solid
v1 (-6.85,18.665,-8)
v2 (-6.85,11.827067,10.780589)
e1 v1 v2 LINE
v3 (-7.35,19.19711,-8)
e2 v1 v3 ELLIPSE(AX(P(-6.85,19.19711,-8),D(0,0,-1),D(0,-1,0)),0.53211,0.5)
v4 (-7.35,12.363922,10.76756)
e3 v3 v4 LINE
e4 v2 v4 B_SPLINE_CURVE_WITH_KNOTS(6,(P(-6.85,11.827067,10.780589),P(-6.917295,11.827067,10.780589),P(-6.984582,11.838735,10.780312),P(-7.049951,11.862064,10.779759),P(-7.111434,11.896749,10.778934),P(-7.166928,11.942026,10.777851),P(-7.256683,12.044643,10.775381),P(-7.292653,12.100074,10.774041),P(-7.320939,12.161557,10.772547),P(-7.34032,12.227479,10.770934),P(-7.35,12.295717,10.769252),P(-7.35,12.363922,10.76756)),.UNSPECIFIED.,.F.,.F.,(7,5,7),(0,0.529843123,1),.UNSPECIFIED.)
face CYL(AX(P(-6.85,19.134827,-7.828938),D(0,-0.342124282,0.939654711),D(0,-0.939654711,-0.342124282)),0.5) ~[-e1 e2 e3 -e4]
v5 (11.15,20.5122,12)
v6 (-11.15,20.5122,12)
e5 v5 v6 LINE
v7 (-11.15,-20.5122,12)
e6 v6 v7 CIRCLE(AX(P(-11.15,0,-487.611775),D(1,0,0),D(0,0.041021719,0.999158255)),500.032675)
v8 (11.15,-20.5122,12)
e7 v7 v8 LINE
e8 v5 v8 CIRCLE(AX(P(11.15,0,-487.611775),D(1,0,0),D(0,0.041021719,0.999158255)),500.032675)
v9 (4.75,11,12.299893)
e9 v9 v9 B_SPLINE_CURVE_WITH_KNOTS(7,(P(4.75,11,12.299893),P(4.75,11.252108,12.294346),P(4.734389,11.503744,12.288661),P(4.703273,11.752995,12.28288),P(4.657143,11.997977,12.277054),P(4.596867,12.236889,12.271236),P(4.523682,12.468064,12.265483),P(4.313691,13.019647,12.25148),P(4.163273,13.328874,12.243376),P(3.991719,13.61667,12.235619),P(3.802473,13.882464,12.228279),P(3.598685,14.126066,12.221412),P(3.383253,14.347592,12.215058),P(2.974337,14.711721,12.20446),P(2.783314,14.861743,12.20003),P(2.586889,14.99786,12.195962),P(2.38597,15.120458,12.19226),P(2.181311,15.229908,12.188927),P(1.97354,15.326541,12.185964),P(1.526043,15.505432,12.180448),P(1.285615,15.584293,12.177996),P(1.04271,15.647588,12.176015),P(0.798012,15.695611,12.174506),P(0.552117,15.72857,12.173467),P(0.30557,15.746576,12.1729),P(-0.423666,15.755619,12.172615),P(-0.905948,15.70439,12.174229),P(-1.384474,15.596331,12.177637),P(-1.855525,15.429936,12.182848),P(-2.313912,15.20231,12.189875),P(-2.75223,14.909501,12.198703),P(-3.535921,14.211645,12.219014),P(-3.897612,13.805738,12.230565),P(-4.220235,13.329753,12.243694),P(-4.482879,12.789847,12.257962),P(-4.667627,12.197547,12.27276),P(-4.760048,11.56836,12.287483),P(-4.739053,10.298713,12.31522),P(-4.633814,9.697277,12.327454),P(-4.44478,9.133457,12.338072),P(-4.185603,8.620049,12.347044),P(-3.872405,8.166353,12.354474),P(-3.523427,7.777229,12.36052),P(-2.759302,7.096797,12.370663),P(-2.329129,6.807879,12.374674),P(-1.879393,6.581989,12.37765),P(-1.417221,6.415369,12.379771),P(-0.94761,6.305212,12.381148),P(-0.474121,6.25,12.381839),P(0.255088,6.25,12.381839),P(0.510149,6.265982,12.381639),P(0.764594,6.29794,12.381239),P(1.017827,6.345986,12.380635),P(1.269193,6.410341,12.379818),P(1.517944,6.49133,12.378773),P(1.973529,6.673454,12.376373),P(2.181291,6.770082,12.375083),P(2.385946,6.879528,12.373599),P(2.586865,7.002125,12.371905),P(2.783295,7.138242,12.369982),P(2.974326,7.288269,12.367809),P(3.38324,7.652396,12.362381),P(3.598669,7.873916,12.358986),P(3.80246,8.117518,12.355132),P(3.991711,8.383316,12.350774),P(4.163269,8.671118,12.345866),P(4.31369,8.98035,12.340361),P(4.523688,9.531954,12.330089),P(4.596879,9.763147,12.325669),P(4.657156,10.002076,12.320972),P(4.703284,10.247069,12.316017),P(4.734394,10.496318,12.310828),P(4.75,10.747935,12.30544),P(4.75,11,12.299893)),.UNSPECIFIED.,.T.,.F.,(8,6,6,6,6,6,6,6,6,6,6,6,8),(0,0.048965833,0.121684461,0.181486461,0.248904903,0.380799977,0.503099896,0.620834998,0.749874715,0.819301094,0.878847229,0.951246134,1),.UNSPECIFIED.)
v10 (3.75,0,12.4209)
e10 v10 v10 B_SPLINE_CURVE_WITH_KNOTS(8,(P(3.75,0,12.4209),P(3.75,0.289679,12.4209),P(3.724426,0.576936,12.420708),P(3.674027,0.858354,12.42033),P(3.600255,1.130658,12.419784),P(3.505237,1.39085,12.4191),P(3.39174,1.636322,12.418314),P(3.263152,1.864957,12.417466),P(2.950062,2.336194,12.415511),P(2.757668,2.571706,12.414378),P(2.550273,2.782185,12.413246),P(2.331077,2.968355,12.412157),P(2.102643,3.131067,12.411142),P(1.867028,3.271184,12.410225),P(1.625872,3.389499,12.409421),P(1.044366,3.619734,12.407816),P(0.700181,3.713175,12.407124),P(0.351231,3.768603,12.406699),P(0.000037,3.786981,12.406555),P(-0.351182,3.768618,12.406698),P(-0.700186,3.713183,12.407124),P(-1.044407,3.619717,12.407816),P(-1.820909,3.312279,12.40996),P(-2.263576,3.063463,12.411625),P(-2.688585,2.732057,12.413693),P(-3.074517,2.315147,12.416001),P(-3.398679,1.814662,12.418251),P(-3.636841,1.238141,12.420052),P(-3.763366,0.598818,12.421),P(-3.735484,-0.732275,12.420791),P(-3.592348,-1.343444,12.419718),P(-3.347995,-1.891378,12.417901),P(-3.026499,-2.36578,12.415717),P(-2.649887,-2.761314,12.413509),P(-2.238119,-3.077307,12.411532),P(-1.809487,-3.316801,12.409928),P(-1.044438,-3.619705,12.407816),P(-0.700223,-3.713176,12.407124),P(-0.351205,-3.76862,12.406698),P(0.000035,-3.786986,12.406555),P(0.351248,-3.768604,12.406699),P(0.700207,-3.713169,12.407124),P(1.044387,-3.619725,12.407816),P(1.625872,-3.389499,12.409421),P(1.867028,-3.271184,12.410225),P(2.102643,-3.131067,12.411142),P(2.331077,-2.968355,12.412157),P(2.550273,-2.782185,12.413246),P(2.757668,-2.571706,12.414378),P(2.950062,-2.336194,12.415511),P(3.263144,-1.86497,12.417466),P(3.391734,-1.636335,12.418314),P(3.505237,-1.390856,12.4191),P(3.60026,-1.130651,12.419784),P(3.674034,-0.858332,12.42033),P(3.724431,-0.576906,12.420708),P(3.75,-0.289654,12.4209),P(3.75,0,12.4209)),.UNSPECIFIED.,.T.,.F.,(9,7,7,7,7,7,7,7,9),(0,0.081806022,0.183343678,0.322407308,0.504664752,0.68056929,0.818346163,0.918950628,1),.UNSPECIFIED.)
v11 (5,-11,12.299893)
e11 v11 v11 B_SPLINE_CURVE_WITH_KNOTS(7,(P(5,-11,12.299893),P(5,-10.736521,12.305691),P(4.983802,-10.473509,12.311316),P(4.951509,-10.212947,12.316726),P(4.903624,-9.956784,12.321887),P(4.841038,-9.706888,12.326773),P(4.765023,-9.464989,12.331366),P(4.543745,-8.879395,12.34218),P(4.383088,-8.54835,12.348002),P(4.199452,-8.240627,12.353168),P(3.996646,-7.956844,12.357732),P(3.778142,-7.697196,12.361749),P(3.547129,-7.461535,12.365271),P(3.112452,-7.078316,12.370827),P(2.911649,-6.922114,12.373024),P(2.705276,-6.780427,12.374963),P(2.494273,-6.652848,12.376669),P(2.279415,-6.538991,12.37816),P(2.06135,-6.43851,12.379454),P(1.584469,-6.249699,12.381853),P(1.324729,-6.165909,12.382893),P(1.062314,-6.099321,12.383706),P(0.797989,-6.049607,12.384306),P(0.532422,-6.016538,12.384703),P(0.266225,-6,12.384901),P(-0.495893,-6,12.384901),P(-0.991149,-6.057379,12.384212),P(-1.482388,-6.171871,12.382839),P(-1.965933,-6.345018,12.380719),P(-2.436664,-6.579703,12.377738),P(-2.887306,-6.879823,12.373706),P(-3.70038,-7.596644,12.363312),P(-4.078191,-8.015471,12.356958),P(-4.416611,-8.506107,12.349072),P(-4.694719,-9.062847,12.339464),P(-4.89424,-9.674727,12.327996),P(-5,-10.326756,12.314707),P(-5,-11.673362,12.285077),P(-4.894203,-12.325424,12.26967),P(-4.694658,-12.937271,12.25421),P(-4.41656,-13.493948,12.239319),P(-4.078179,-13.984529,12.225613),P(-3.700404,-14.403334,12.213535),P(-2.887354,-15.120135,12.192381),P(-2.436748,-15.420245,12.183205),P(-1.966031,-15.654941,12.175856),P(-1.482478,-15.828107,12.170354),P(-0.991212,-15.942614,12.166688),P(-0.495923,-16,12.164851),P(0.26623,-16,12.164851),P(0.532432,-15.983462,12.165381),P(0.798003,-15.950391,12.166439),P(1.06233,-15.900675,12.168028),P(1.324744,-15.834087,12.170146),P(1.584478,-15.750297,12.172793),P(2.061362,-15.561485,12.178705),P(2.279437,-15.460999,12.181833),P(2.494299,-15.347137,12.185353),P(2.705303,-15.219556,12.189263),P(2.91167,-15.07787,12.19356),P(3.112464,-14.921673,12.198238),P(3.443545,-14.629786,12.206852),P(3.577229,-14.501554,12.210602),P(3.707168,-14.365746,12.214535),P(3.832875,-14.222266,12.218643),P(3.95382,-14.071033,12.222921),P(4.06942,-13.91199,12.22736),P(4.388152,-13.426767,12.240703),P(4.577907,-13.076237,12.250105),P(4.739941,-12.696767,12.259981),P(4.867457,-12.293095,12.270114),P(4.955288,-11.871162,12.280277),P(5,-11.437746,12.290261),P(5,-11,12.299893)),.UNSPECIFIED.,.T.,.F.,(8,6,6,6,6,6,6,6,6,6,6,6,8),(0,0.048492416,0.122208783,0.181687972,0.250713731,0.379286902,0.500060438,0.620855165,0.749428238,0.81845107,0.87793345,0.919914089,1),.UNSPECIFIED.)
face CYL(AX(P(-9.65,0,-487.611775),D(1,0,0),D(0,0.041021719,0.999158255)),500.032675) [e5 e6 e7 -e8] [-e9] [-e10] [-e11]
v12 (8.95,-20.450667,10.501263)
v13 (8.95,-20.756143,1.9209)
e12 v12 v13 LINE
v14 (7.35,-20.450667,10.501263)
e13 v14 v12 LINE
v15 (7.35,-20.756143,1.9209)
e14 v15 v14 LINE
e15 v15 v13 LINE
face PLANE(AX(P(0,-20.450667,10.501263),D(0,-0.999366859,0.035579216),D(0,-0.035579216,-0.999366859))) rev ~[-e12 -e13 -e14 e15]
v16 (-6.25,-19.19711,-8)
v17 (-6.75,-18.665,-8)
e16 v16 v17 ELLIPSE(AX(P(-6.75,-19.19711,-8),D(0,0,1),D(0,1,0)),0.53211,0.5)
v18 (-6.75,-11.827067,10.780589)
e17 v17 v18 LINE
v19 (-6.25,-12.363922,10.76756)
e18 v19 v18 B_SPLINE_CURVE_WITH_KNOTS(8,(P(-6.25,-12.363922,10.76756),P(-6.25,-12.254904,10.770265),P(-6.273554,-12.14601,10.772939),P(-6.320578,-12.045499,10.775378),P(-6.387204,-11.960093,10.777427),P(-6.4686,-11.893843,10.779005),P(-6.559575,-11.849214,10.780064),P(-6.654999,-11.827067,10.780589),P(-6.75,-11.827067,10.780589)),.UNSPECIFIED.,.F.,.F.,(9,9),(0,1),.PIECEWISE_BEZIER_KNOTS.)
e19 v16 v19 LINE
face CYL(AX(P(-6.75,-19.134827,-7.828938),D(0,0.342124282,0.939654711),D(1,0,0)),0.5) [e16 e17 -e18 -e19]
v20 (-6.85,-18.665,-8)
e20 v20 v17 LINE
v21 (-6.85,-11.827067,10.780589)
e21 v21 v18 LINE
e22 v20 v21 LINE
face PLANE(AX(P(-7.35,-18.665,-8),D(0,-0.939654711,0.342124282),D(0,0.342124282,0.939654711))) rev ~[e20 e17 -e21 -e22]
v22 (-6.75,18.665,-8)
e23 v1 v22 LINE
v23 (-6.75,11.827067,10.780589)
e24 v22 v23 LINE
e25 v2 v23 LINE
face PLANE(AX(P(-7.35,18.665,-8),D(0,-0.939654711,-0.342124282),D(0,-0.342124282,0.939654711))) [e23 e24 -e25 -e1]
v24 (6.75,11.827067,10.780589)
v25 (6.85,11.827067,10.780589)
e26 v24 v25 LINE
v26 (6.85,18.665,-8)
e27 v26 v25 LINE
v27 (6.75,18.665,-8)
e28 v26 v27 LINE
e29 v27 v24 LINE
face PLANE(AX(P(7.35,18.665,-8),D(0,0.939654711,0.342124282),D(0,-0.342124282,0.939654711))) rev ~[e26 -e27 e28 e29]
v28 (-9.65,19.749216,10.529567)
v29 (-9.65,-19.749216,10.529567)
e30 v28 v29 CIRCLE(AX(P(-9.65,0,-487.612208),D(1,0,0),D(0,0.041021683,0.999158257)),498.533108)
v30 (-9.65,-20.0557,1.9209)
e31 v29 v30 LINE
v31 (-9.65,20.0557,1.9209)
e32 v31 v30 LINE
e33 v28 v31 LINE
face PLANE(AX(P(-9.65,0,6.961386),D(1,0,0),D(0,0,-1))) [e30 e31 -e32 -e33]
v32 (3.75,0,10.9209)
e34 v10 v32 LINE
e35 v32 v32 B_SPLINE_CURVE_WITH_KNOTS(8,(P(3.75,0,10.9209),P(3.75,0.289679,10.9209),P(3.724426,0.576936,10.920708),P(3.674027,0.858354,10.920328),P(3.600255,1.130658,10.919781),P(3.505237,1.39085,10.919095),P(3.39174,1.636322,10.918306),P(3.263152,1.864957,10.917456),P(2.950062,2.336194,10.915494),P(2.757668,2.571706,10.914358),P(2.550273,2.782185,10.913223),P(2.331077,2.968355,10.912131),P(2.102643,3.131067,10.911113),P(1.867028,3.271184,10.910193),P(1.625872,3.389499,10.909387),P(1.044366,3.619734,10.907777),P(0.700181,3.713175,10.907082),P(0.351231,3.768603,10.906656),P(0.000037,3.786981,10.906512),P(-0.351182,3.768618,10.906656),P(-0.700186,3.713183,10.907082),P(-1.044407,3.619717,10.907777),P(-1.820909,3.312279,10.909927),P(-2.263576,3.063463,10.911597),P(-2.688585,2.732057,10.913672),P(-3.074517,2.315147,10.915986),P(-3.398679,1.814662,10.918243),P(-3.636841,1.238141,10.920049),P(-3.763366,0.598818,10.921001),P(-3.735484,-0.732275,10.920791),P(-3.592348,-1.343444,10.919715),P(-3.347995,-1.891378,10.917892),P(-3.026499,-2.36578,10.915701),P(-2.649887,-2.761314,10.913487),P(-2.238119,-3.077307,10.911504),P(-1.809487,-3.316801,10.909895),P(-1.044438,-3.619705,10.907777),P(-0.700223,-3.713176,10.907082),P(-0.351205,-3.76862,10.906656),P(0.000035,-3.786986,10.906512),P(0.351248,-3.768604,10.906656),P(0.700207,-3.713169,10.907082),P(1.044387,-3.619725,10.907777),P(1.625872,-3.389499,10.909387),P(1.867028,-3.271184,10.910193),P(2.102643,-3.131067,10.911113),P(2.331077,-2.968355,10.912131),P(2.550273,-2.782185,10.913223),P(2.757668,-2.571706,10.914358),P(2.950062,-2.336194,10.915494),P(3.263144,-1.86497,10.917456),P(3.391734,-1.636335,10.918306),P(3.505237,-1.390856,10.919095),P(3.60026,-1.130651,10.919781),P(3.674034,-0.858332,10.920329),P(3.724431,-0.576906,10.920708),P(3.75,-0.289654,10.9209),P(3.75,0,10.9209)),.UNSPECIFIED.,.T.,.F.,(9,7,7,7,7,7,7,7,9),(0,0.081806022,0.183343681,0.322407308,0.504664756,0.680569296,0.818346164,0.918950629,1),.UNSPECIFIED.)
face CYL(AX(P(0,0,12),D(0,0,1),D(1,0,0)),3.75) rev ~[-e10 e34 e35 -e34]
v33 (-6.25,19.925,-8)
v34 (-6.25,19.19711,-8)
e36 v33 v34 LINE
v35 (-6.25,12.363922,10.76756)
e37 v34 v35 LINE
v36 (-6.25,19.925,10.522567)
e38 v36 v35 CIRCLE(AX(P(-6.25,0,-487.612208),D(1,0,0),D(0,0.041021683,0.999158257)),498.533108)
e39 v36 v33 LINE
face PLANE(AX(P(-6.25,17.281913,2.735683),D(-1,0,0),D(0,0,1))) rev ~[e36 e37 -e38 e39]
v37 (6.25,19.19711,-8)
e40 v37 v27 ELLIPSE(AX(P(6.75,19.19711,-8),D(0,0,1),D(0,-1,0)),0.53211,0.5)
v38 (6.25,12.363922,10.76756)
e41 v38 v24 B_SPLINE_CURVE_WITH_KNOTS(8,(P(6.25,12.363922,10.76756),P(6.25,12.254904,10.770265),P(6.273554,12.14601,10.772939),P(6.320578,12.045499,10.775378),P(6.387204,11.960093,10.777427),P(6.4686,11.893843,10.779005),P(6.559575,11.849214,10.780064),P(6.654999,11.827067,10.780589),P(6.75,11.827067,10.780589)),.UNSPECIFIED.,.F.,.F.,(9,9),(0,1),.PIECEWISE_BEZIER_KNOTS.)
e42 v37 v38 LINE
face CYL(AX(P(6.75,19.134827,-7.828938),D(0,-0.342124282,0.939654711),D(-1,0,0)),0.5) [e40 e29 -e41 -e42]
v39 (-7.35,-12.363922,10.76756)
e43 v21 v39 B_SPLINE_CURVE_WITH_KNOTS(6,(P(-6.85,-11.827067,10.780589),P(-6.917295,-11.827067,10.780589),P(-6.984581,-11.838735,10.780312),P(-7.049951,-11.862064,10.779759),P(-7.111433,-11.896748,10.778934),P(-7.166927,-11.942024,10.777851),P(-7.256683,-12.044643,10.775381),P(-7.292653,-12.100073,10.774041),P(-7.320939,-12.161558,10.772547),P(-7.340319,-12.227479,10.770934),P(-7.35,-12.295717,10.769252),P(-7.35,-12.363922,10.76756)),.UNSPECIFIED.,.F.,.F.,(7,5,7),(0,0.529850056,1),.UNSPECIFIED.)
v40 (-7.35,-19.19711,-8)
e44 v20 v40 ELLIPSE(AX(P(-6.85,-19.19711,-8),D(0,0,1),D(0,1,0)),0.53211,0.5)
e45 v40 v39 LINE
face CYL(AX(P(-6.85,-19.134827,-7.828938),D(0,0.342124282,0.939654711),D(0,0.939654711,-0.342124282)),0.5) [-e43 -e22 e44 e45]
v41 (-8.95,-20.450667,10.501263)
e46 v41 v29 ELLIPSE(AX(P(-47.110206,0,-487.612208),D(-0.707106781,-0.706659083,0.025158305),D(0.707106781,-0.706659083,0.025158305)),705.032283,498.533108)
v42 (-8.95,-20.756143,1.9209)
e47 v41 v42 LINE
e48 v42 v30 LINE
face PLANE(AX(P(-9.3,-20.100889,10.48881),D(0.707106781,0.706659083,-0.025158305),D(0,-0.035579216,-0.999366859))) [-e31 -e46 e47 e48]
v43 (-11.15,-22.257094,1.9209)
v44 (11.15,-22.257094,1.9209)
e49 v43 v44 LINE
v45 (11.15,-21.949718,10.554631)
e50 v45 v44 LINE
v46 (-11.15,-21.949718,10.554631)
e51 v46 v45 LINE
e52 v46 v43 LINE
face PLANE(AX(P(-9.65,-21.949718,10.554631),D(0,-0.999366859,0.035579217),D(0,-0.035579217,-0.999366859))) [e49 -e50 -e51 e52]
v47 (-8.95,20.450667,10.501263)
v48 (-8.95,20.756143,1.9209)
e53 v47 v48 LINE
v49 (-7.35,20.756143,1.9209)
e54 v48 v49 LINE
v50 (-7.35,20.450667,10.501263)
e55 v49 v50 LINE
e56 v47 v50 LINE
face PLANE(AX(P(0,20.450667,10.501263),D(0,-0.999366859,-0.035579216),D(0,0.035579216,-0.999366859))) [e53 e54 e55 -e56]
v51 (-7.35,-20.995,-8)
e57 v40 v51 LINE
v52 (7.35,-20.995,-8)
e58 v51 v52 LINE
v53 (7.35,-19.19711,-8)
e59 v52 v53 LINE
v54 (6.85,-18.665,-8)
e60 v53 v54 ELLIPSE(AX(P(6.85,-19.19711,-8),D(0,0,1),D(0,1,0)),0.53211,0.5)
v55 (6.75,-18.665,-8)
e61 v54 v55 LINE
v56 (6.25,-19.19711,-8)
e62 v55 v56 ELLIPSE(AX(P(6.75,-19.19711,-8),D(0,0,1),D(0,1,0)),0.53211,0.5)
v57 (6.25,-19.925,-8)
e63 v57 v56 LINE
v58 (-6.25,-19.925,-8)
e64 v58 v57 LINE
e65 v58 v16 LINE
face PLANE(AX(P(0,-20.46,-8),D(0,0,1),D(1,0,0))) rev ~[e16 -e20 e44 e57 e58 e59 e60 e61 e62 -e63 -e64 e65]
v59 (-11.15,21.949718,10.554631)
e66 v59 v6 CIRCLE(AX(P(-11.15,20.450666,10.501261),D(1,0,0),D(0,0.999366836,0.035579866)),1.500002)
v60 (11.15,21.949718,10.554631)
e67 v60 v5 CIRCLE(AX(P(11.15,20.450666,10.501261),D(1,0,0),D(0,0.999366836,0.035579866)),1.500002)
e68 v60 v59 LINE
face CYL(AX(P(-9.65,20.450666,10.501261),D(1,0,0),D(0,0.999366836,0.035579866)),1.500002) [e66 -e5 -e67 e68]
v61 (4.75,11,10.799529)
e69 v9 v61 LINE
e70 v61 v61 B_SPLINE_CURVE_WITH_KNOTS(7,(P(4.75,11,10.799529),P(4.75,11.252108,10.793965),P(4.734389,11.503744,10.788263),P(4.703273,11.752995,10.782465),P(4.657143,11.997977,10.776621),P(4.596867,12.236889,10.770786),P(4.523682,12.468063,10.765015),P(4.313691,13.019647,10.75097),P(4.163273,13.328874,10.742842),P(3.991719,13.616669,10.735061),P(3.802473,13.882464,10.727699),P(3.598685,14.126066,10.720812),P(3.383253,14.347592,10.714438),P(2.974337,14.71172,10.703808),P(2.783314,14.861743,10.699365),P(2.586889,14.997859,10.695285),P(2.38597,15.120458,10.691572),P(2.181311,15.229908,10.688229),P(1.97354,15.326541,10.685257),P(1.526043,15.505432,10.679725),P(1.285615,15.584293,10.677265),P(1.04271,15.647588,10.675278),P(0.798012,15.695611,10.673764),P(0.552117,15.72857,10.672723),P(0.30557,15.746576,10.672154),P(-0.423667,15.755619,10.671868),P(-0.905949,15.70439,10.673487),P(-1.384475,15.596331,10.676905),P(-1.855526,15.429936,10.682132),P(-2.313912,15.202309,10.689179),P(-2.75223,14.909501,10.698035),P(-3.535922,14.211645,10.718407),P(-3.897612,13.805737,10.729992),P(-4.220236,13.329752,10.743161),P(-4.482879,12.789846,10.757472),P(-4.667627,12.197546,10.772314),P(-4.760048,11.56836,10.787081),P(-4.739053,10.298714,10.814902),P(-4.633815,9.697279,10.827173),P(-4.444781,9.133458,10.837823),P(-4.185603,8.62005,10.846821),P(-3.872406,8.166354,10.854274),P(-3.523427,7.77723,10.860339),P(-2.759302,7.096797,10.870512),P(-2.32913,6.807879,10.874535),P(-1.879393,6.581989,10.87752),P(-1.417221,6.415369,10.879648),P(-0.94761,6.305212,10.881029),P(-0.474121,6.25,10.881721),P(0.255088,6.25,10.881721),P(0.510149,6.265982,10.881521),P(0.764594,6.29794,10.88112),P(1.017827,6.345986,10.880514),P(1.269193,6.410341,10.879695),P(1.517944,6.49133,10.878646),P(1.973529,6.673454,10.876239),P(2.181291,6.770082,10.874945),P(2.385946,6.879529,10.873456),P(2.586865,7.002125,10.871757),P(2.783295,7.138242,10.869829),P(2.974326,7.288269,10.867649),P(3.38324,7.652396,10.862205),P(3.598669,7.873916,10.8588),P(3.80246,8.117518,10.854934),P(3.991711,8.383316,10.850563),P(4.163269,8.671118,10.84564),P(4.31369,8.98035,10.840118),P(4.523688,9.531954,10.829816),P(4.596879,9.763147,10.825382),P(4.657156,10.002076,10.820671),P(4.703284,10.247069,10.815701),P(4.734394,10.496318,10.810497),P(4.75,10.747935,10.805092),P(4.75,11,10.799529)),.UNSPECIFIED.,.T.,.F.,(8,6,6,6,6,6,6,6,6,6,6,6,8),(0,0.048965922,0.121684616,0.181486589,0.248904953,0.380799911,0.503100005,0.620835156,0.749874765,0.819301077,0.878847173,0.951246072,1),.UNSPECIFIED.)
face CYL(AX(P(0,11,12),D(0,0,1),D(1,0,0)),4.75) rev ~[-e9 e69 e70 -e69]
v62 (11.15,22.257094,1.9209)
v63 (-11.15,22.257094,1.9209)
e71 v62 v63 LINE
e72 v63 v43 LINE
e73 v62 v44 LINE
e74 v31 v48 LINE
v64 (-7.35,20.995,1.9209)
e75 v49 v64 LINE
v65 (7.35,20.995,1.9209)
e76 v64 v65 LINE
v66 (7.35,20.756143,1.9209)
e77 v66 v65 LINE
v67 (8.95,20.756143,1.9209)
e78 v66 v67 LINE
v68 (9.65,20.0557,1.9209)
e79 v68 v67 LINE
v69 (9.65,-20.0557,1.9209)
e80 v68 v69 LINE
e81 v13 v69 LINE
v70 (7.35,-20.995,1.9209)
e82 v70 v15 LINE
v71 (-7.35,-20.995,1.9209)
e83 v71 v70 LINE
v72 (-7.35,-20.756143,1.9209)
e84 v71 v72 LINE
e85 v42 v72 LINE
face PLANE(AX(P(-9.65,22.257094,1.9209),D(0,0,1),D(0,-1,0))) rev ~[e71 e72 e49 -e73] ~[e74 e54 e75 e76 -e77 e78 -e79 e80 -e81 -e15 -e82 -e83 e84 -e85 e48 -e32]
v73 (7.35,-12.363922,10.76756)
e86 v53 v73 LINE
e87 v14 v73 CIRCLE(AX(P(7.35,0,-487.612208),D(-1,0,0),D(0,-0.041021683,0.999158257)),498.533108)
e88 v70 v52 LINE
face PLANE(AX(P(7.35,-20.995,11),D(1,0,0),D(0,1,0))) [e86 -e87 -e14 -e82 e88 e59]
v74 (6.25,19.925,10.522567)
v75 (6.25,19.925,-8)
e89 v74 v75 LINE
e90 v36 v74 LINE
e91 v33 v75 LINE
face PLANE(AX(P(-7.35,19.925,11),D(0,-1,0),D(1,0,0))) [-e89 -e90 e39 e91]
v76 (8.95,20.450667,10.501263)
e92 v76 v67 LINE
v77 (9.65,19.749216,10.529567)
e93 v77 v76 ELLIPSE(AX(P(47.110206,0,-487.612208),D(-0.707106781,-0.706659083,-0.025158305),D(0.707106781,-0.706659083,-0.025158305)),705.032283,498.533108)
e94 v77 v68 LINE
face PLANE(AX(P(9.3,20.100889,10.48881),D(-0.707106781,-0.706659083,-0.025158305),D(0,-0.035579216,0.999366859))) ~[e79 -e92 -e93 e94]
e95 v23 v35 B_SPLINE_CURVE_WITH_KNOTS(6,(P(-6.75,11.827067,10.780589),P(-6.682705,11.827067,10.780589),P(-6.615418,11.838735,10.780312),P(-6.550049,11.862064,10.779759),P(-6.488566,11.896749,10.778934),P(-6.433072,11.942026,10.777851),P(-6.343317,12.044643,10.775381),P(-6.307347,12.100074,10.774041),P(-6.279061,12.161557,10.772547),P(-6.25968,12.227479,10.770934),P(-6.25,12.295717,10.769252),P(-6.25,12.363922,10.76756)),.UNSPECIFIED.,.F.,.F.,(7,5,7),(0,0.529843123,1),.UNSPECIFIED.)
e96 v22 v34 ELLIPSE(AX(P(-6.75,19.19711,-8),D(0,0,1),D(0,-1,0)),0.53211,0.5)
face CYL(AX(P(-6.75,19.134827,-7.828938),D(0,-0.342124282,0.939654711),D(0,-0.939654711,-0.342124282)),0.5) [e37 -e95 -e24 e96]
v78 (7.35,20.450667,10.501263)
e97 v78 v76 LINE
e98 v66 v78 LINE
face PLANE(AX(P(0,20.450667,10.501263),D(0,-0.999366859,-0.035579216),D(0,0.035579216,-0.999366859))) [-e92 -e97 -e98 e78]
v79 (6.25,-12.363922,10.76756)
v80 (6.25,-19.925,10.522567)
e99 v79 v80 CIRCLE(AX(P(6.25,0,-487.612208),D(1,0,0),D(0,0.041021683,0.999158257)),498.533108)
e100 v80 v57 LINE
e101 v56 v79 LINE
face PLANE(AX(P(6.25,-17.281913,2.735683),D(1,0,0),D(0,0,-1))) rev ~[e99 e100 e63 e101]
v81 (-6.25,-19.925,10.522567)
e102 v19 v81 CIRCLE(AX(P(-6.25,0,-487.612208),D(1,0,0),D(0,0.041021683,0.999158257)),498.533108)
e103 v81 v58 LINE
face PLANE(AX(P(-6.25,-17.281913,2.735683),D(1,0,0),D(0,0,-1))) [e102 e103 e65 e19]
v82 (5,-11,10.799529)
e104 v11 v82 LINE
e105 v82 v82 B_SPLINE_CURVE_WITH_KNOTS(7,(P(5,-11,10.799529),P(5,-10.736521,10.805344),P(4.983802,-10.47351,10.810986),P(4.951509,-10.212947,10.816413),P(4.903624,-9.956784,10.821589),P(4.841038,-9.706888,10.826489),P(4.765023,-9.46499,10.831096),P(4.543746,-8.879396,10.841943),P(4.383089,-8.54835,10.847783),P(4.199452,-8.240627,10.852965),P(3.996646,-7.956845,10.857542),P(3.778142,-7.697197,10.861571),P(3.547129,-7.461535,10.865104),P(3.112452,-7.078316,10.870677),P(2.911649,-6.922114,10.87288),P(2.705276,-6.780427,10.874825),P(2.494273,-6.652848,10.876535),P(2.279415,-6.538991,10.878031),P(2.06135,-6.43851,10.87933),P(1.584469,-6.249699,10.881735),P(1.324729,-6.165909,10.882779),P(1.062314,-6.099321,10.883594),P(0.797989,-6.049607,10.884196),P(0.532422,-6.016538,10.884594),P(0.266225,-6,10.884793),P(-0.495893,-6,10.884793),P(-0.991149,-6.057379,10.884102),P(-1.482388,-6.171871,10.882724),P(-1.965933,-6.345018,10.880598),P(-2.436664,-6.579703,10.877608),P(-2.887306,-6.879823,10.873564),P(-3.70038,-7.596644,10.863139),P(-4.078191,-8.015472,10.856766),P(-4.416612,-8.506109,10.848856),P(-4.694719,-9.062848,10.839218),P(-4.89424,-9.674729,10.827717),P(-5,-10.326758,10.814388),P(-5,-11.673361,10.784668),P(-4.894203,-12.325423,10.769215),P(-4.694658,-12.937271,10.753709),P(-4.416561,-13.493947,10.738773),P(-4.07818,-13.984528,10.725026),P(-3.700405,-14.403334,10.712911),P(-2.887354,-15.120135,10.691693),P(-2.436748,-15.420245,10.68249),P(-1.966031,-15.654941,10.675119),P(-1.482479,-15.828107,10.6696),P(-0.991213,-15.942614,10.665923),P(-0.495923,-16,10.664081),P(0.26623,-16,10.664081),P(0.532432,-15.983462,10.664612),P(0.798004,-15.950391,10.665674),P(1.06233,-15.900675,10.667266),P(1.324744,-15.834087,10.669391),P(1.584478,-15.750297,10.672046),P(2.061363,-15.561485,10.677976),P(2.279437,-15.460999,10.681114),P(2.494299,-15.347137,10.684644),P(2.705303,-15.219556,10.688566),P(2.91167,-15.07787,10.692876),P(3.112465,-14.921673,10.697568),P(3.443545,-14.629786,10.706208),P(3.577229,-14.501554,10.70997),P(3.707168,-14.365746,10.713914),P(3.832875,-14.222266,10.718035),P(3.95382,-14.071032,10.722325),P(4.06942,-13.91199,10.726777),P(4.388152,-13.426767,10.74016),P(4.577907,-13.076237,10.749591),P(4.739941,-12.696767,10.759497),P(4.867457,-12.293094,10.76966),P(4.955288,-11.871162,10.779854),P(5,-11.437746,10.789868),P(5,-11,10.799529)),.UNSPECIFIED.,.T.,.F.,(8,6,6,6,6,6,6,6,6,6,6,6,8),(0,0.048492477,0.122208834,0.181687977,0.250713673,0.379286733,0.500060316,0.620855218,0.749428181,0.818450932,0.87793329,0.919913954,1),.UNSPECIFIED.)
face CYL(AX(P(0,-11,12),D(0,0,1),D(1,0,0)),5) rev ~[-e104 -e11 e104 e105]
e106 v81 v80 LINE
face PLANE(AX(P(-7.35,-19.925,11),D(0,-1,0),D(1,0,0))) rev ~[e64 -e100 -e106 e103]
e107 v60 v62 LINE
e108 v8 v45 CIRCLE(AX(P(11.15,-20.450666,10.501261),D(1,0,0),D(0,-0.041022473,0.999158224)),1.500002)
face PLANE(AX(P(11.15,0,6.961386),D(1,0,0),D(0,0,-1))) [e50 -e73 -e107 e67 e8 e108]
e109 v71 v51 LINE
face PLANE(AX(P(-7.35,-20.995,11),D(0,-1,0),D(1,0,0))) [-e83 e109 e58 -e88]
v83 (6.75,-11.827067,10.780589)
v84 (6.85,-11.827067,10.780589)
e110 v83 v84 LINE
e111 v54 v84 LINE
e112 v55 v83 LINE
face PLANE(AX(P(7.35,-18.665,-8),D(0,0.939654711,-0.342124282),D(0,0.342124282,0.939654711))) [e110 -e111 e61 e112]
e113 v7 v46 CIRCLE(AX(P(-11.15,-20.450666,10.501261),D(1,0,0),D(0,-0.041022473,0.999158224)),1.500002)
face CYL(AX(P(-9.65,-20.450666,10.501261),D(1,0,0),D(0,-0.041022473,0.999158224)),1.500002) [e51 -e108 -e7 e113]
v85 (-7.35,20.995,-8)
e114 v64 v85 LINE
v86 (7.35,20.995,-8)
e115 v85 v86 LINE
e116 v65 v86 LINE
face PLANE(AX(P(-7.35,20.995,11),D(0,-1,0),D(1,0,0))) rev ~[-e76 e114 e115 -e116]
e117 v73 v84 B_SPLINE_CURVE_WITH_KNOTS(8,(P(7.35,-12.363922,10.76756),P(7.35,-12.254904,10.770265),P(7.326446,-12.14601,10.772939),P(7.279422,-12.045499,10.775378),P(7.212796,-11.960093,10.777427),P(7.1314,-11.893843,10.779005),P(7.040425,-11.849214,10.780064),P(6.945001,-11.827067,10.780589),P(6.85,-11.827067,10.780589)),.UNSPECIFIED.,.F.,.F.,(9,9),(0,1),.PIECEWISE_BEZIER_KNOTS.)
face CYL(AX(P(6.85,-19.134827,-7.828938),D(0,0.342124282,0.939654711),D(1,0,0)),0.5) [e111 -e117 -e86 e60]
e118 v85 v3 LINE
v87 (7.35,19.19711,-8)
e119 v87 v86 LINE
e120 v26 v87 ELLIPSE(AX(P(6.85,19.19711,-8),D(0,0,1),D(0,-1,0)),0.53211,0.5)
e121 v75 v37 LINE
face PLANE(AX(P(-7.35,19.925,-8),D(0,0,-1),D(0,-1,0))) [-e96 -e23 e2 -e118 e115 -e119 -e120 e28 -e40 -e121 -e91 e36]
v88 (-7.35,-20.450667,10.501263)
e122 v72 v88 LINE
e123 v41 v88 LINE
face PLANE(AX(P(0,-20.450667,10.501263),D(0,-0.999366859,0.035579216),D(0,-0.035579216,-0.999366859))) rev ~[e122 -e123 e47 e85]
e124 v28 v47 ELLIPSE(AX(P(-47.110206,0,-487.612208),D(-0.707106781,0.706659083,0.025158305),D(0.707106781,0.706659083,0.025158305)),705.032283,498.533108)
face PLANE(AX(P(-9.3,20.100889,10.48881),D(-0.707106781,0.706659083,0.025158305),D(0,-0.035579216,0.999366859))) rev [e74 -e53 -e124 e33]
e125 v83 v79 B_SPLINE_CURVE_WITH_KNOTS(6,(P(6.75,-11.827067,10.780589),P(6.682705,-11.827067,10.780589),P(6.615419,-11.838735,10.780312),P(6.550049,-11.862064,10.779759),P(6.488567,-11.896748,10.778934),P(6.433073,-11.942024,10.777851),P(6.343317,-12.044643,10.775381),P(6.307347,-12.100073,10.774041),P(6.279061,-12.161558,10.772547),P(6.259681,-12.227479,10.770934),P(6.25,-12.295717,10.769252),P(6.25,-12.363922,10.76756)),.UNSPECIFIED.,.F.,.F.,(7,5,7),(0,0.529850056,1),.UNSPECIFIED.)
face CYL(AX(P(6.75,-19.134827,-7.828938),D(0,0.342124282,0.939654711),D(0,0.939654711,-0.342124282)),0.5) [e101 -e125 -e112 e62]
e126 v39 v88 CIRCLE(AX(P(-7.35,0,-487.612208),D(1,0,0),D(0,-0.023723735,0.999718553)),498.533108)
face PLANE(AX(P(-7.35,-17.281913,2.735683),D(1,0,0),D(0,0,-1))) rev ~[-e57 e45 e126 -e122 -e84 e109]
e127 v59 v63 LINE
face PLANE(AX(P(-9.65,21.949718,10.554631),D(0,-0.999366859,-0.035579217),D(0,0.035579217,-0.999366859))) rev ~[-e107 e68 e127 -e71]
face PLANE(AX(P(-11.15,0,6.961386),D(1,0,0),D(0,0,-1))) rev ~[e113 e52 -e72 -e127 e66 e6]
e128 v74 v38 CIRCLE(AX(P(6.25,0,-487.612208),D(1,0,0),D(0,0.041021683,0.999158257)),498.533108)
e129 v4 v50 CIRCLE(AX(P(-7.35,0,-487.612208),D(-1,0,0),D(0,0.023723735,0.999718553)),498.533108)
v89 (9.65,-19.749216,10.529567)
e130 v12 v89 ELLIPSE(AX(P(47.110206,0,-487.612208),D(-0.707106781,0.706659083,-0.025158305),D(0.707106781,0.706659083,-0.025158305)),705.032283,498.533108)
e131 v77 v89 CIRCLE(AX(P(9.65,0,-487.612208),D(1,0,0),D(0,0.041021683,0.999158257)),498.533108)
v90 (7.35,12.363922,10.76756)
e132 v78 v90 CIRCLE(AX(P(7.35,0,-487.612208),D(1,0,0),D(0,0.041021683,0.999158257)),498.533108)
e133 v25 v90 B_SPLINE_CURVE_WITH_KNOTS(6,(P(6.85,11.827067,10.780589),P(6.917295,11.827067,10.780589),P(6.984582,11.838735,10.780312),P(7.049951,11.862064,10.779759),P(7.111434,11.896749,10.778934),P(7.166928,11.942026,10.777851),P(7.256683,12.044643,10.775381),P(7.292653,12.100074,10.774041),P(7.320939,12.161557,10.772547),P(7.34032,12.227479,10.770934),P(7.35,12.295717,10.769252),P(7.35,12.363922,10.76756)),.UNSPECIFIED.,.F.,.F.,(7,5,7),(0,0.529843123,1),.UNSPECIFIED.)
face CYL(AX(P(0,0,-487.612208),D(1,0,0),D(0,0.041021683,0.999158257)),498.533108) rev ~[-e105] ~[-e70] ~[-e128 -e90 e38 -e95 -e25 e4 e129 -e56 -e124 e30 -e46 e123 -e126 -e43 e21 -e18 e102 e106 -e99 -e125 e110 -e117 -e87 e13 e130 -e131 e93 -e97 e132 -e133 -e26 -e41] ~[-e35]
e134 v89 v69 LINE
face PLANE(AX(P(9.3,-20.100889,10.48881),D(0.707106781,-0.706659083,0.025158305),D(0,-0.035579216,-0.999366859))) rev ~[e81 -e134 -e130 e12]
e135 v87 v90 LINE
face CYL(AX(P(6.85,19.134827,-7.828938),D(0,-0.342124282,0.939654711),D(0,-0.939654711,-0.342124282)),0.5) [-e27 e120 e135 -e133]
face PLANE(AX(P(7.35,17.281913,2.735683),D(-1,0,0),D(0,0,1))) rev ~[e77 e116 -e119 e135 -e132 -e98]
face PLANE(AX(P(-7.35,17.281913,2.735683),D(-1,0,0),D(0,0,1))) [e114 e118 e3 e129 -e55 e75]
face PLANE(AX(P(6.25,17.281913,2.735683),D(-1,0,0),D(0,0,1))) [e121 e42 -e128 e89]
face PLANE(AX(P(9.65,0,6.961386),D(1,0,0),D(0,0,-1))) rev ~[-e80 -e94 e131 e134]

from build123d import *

# Parameters (mm, degrees)
PAD_DEPTH               = 9.65
PAD001_DEPTH            = 1.5
PAD002_DEPTH            = 1.5
SKETCH003_W             = 14.7
SKETCH003_H             = 1.07
PAD003_DEPTH            = 19
PAD004_DEPTH            = 1.1
PAD005_DEPTH            = 1.1
FILLET001_R             = 0.5
CHAMFER_SIZE            = 0.7
SKETCH011_R             = 3.75
SKETCH011_R_2           = 4.75
SKETCH011_R_3           = 5
POCKET001_DEPTH         = 5
POCKET001_DEPTH_BACK    = 5
BODY001_PLACEMENT_ANGLE = 90


with BuildPart() as part:
    # Sketch → Pad (new body, symmetric)
    with BuildSketch(Plane.YZ):
        with BuildLine():
            ThreePointArc((0, 20.5122), (-0.4209, 0), (0, -20.5122))
            ThreePointArc((0, -20.5122), (0.44097, -21.514212), (1.445369, -21.949718))
            Line((1.445369, -21.949718), (10.0791, -22.257094))
            Line((10.0791, -22.257094), (10.0791, -20.756143))
            Line((1.498737, -20.450667), (10.0791, -20.756143))
            ThreePointArc((1.498737, 20.450667), (1.0791, 0), (1.498737, -20.450667))
            Line((1.498737, 20.450667), (10.0791, 20.756143))
            Line((10.0791, 20.756143), (10.0791, 22.257094))
            Line((1.445369, 21.949718), (10.0791, 22.257094))
            ThreePointArc((1.445369, 21.949718), (0.44097, 21.514212), (0, 20.5122))
        make_face()
    extrude(amount=PAD_DEPTH, both=True)

    # Sketch001 → Pad001 (join)
    with BuildSketch(Plane.YZ.offset(9.65)):
        with BuildLine():
            ThreePointArc((0, 20.5122), (-0.4209, 0), (0, -20.5122))
            ThreePointArc((0, -20.5122), (0.44097, -21.514212), (1.445369, -21.949718))
            Line((1.445369, -21.949718), (10.0791, -22.257094))
            Line((10.0791, 22.257094), (10.0791, -22.257094))
            Line((1.445369, 21.949718), (10.0791, 22.257094))
            ThreePointArc((1.445369, 21.949718), (0.44097, 21.514212), (0, 20.5122))
        make_face()
    extrude(amount=PAD001_DEPTH)

    # Sketch002 → Pad002 (join)
    with BuildSketch(Plane.YZ.offset(-9.65)):
        with BuildLine():
            ThreePointArc((0, 20.5122), (-0.4209, 0), (0, -20.5122))
            ThreePointArc((0, -20.5122), (0.44097, -21.514212), (1.445369, -21.949718))
            Line((1.445369, -21.949718), (10.0791, -22.257094))
            Line((10.0791, 22.257094), (10.0791, -22.257094))
            Line((1.445369, 21.949718), (10.0791, 22.257094))
            ThreePointArc((1.445369, 21.949718), (0.44097, 21.514212), (0, 20.5122))
        make_face()
    extrude(amount=-PAD002_DEPTH)

    # Sketch003 → Pad003 (join)
    with BuildSketch(Plane.XZ.offset(-1)):
        with Locations((0, 20.46)):
            Rectangle(SKETCH003_W, SKETCH003_H)
        with Locations((0, -20.46)):
            Rectangle(SKETCH003_W, SKETCH003_H)
    extrude(amount=-PAD003_DEPTH)

    # Sketch004 → Pad004 (join)
    with BuildSketch(Plane.YZ.offset(7.35)):
        Polygon((1.2, 11.82), (1.2, 19.925), (20, 19.925), (20, 18.665), align=None)
        Polygon((1.2, -11.82), (1.2, -19.925), (20, -19.925), (20, -18.665), align=None)
    extrude(amount=-PAD004_DEPTH)

    # Sketch010 → Pad005 (join)
    with BuildSketch(Plane.YZ.offset(-7.35)):
        Polygon((1.2, 11.82), (1.2, 19.925), (20, 19.925), (20, 18.665), align=None)
        Polygon((1.2, -11.82), (1.2, -19.925), (20, -19.925), (20, -18.665), align=None)
    extrude(amount=PAD005_DEPTH)

    # Fillet001
    fillet001_edges = [part.edges().sort_by_distance(p)[0] for p in [
        (7.35, 10.609705, 15.246034),
        (6.25, 10.609705, 15.246034),
        (-6.25, 10.609705, 15.246034),
        (-7.35, 10.609705, 15.246034),
        (7.35, 10.609705, -15.246034),
        (6.25, 10.609705, -15.246034),
        (-6.25, 10.609705, -15.246034),
        (-7.35, 10.609705, -15.246034),
    ]]
    fillet(fillet001_edges, radius=FILLET001_R)

    # Chamfer
    chamfer_edges = [part.edges().sort_by_distance(p)[0] for p in [
        (9.65, 5.788919, 20.603405),
        (-9.65, 5.788919, 20.603405),
        (-9.65, 5.788919, -20.603405),
        (9.65, 5.788919, -20.603405),
    ]]
    chamfer(chamfer_edges, length=CHAMFER_SIZE)

    # Sketch011 → Pocket001 (cut, two sides)
    with BuildSketch(Plane.XZ) as pocket001_sk:
        Circle(SKETCH011_R)
        with Locations((0, 11)):
            Circle(SKETCH011_R_2)
        with Locations((0, -11)):
            Circle(SKETCH011_R_3)
    extrude(amount=-POCKET001_DEPTH, mode=Mode.SUBTRACT)
    extrude(pocket001_sk.sketch, amount=POCKET001_DEPTH_BACK, mode=Mode.SUBTRACT)


with BuildPart() as part_1:
    # Body001 placement: moved
    add(part.part.moved(Location((0, 0, 12))).rotate(Axis((0, 0, 12), (-1, 0, 0)), BODY001_PLACEMENT_ANGLE))


solid = part_1.part
